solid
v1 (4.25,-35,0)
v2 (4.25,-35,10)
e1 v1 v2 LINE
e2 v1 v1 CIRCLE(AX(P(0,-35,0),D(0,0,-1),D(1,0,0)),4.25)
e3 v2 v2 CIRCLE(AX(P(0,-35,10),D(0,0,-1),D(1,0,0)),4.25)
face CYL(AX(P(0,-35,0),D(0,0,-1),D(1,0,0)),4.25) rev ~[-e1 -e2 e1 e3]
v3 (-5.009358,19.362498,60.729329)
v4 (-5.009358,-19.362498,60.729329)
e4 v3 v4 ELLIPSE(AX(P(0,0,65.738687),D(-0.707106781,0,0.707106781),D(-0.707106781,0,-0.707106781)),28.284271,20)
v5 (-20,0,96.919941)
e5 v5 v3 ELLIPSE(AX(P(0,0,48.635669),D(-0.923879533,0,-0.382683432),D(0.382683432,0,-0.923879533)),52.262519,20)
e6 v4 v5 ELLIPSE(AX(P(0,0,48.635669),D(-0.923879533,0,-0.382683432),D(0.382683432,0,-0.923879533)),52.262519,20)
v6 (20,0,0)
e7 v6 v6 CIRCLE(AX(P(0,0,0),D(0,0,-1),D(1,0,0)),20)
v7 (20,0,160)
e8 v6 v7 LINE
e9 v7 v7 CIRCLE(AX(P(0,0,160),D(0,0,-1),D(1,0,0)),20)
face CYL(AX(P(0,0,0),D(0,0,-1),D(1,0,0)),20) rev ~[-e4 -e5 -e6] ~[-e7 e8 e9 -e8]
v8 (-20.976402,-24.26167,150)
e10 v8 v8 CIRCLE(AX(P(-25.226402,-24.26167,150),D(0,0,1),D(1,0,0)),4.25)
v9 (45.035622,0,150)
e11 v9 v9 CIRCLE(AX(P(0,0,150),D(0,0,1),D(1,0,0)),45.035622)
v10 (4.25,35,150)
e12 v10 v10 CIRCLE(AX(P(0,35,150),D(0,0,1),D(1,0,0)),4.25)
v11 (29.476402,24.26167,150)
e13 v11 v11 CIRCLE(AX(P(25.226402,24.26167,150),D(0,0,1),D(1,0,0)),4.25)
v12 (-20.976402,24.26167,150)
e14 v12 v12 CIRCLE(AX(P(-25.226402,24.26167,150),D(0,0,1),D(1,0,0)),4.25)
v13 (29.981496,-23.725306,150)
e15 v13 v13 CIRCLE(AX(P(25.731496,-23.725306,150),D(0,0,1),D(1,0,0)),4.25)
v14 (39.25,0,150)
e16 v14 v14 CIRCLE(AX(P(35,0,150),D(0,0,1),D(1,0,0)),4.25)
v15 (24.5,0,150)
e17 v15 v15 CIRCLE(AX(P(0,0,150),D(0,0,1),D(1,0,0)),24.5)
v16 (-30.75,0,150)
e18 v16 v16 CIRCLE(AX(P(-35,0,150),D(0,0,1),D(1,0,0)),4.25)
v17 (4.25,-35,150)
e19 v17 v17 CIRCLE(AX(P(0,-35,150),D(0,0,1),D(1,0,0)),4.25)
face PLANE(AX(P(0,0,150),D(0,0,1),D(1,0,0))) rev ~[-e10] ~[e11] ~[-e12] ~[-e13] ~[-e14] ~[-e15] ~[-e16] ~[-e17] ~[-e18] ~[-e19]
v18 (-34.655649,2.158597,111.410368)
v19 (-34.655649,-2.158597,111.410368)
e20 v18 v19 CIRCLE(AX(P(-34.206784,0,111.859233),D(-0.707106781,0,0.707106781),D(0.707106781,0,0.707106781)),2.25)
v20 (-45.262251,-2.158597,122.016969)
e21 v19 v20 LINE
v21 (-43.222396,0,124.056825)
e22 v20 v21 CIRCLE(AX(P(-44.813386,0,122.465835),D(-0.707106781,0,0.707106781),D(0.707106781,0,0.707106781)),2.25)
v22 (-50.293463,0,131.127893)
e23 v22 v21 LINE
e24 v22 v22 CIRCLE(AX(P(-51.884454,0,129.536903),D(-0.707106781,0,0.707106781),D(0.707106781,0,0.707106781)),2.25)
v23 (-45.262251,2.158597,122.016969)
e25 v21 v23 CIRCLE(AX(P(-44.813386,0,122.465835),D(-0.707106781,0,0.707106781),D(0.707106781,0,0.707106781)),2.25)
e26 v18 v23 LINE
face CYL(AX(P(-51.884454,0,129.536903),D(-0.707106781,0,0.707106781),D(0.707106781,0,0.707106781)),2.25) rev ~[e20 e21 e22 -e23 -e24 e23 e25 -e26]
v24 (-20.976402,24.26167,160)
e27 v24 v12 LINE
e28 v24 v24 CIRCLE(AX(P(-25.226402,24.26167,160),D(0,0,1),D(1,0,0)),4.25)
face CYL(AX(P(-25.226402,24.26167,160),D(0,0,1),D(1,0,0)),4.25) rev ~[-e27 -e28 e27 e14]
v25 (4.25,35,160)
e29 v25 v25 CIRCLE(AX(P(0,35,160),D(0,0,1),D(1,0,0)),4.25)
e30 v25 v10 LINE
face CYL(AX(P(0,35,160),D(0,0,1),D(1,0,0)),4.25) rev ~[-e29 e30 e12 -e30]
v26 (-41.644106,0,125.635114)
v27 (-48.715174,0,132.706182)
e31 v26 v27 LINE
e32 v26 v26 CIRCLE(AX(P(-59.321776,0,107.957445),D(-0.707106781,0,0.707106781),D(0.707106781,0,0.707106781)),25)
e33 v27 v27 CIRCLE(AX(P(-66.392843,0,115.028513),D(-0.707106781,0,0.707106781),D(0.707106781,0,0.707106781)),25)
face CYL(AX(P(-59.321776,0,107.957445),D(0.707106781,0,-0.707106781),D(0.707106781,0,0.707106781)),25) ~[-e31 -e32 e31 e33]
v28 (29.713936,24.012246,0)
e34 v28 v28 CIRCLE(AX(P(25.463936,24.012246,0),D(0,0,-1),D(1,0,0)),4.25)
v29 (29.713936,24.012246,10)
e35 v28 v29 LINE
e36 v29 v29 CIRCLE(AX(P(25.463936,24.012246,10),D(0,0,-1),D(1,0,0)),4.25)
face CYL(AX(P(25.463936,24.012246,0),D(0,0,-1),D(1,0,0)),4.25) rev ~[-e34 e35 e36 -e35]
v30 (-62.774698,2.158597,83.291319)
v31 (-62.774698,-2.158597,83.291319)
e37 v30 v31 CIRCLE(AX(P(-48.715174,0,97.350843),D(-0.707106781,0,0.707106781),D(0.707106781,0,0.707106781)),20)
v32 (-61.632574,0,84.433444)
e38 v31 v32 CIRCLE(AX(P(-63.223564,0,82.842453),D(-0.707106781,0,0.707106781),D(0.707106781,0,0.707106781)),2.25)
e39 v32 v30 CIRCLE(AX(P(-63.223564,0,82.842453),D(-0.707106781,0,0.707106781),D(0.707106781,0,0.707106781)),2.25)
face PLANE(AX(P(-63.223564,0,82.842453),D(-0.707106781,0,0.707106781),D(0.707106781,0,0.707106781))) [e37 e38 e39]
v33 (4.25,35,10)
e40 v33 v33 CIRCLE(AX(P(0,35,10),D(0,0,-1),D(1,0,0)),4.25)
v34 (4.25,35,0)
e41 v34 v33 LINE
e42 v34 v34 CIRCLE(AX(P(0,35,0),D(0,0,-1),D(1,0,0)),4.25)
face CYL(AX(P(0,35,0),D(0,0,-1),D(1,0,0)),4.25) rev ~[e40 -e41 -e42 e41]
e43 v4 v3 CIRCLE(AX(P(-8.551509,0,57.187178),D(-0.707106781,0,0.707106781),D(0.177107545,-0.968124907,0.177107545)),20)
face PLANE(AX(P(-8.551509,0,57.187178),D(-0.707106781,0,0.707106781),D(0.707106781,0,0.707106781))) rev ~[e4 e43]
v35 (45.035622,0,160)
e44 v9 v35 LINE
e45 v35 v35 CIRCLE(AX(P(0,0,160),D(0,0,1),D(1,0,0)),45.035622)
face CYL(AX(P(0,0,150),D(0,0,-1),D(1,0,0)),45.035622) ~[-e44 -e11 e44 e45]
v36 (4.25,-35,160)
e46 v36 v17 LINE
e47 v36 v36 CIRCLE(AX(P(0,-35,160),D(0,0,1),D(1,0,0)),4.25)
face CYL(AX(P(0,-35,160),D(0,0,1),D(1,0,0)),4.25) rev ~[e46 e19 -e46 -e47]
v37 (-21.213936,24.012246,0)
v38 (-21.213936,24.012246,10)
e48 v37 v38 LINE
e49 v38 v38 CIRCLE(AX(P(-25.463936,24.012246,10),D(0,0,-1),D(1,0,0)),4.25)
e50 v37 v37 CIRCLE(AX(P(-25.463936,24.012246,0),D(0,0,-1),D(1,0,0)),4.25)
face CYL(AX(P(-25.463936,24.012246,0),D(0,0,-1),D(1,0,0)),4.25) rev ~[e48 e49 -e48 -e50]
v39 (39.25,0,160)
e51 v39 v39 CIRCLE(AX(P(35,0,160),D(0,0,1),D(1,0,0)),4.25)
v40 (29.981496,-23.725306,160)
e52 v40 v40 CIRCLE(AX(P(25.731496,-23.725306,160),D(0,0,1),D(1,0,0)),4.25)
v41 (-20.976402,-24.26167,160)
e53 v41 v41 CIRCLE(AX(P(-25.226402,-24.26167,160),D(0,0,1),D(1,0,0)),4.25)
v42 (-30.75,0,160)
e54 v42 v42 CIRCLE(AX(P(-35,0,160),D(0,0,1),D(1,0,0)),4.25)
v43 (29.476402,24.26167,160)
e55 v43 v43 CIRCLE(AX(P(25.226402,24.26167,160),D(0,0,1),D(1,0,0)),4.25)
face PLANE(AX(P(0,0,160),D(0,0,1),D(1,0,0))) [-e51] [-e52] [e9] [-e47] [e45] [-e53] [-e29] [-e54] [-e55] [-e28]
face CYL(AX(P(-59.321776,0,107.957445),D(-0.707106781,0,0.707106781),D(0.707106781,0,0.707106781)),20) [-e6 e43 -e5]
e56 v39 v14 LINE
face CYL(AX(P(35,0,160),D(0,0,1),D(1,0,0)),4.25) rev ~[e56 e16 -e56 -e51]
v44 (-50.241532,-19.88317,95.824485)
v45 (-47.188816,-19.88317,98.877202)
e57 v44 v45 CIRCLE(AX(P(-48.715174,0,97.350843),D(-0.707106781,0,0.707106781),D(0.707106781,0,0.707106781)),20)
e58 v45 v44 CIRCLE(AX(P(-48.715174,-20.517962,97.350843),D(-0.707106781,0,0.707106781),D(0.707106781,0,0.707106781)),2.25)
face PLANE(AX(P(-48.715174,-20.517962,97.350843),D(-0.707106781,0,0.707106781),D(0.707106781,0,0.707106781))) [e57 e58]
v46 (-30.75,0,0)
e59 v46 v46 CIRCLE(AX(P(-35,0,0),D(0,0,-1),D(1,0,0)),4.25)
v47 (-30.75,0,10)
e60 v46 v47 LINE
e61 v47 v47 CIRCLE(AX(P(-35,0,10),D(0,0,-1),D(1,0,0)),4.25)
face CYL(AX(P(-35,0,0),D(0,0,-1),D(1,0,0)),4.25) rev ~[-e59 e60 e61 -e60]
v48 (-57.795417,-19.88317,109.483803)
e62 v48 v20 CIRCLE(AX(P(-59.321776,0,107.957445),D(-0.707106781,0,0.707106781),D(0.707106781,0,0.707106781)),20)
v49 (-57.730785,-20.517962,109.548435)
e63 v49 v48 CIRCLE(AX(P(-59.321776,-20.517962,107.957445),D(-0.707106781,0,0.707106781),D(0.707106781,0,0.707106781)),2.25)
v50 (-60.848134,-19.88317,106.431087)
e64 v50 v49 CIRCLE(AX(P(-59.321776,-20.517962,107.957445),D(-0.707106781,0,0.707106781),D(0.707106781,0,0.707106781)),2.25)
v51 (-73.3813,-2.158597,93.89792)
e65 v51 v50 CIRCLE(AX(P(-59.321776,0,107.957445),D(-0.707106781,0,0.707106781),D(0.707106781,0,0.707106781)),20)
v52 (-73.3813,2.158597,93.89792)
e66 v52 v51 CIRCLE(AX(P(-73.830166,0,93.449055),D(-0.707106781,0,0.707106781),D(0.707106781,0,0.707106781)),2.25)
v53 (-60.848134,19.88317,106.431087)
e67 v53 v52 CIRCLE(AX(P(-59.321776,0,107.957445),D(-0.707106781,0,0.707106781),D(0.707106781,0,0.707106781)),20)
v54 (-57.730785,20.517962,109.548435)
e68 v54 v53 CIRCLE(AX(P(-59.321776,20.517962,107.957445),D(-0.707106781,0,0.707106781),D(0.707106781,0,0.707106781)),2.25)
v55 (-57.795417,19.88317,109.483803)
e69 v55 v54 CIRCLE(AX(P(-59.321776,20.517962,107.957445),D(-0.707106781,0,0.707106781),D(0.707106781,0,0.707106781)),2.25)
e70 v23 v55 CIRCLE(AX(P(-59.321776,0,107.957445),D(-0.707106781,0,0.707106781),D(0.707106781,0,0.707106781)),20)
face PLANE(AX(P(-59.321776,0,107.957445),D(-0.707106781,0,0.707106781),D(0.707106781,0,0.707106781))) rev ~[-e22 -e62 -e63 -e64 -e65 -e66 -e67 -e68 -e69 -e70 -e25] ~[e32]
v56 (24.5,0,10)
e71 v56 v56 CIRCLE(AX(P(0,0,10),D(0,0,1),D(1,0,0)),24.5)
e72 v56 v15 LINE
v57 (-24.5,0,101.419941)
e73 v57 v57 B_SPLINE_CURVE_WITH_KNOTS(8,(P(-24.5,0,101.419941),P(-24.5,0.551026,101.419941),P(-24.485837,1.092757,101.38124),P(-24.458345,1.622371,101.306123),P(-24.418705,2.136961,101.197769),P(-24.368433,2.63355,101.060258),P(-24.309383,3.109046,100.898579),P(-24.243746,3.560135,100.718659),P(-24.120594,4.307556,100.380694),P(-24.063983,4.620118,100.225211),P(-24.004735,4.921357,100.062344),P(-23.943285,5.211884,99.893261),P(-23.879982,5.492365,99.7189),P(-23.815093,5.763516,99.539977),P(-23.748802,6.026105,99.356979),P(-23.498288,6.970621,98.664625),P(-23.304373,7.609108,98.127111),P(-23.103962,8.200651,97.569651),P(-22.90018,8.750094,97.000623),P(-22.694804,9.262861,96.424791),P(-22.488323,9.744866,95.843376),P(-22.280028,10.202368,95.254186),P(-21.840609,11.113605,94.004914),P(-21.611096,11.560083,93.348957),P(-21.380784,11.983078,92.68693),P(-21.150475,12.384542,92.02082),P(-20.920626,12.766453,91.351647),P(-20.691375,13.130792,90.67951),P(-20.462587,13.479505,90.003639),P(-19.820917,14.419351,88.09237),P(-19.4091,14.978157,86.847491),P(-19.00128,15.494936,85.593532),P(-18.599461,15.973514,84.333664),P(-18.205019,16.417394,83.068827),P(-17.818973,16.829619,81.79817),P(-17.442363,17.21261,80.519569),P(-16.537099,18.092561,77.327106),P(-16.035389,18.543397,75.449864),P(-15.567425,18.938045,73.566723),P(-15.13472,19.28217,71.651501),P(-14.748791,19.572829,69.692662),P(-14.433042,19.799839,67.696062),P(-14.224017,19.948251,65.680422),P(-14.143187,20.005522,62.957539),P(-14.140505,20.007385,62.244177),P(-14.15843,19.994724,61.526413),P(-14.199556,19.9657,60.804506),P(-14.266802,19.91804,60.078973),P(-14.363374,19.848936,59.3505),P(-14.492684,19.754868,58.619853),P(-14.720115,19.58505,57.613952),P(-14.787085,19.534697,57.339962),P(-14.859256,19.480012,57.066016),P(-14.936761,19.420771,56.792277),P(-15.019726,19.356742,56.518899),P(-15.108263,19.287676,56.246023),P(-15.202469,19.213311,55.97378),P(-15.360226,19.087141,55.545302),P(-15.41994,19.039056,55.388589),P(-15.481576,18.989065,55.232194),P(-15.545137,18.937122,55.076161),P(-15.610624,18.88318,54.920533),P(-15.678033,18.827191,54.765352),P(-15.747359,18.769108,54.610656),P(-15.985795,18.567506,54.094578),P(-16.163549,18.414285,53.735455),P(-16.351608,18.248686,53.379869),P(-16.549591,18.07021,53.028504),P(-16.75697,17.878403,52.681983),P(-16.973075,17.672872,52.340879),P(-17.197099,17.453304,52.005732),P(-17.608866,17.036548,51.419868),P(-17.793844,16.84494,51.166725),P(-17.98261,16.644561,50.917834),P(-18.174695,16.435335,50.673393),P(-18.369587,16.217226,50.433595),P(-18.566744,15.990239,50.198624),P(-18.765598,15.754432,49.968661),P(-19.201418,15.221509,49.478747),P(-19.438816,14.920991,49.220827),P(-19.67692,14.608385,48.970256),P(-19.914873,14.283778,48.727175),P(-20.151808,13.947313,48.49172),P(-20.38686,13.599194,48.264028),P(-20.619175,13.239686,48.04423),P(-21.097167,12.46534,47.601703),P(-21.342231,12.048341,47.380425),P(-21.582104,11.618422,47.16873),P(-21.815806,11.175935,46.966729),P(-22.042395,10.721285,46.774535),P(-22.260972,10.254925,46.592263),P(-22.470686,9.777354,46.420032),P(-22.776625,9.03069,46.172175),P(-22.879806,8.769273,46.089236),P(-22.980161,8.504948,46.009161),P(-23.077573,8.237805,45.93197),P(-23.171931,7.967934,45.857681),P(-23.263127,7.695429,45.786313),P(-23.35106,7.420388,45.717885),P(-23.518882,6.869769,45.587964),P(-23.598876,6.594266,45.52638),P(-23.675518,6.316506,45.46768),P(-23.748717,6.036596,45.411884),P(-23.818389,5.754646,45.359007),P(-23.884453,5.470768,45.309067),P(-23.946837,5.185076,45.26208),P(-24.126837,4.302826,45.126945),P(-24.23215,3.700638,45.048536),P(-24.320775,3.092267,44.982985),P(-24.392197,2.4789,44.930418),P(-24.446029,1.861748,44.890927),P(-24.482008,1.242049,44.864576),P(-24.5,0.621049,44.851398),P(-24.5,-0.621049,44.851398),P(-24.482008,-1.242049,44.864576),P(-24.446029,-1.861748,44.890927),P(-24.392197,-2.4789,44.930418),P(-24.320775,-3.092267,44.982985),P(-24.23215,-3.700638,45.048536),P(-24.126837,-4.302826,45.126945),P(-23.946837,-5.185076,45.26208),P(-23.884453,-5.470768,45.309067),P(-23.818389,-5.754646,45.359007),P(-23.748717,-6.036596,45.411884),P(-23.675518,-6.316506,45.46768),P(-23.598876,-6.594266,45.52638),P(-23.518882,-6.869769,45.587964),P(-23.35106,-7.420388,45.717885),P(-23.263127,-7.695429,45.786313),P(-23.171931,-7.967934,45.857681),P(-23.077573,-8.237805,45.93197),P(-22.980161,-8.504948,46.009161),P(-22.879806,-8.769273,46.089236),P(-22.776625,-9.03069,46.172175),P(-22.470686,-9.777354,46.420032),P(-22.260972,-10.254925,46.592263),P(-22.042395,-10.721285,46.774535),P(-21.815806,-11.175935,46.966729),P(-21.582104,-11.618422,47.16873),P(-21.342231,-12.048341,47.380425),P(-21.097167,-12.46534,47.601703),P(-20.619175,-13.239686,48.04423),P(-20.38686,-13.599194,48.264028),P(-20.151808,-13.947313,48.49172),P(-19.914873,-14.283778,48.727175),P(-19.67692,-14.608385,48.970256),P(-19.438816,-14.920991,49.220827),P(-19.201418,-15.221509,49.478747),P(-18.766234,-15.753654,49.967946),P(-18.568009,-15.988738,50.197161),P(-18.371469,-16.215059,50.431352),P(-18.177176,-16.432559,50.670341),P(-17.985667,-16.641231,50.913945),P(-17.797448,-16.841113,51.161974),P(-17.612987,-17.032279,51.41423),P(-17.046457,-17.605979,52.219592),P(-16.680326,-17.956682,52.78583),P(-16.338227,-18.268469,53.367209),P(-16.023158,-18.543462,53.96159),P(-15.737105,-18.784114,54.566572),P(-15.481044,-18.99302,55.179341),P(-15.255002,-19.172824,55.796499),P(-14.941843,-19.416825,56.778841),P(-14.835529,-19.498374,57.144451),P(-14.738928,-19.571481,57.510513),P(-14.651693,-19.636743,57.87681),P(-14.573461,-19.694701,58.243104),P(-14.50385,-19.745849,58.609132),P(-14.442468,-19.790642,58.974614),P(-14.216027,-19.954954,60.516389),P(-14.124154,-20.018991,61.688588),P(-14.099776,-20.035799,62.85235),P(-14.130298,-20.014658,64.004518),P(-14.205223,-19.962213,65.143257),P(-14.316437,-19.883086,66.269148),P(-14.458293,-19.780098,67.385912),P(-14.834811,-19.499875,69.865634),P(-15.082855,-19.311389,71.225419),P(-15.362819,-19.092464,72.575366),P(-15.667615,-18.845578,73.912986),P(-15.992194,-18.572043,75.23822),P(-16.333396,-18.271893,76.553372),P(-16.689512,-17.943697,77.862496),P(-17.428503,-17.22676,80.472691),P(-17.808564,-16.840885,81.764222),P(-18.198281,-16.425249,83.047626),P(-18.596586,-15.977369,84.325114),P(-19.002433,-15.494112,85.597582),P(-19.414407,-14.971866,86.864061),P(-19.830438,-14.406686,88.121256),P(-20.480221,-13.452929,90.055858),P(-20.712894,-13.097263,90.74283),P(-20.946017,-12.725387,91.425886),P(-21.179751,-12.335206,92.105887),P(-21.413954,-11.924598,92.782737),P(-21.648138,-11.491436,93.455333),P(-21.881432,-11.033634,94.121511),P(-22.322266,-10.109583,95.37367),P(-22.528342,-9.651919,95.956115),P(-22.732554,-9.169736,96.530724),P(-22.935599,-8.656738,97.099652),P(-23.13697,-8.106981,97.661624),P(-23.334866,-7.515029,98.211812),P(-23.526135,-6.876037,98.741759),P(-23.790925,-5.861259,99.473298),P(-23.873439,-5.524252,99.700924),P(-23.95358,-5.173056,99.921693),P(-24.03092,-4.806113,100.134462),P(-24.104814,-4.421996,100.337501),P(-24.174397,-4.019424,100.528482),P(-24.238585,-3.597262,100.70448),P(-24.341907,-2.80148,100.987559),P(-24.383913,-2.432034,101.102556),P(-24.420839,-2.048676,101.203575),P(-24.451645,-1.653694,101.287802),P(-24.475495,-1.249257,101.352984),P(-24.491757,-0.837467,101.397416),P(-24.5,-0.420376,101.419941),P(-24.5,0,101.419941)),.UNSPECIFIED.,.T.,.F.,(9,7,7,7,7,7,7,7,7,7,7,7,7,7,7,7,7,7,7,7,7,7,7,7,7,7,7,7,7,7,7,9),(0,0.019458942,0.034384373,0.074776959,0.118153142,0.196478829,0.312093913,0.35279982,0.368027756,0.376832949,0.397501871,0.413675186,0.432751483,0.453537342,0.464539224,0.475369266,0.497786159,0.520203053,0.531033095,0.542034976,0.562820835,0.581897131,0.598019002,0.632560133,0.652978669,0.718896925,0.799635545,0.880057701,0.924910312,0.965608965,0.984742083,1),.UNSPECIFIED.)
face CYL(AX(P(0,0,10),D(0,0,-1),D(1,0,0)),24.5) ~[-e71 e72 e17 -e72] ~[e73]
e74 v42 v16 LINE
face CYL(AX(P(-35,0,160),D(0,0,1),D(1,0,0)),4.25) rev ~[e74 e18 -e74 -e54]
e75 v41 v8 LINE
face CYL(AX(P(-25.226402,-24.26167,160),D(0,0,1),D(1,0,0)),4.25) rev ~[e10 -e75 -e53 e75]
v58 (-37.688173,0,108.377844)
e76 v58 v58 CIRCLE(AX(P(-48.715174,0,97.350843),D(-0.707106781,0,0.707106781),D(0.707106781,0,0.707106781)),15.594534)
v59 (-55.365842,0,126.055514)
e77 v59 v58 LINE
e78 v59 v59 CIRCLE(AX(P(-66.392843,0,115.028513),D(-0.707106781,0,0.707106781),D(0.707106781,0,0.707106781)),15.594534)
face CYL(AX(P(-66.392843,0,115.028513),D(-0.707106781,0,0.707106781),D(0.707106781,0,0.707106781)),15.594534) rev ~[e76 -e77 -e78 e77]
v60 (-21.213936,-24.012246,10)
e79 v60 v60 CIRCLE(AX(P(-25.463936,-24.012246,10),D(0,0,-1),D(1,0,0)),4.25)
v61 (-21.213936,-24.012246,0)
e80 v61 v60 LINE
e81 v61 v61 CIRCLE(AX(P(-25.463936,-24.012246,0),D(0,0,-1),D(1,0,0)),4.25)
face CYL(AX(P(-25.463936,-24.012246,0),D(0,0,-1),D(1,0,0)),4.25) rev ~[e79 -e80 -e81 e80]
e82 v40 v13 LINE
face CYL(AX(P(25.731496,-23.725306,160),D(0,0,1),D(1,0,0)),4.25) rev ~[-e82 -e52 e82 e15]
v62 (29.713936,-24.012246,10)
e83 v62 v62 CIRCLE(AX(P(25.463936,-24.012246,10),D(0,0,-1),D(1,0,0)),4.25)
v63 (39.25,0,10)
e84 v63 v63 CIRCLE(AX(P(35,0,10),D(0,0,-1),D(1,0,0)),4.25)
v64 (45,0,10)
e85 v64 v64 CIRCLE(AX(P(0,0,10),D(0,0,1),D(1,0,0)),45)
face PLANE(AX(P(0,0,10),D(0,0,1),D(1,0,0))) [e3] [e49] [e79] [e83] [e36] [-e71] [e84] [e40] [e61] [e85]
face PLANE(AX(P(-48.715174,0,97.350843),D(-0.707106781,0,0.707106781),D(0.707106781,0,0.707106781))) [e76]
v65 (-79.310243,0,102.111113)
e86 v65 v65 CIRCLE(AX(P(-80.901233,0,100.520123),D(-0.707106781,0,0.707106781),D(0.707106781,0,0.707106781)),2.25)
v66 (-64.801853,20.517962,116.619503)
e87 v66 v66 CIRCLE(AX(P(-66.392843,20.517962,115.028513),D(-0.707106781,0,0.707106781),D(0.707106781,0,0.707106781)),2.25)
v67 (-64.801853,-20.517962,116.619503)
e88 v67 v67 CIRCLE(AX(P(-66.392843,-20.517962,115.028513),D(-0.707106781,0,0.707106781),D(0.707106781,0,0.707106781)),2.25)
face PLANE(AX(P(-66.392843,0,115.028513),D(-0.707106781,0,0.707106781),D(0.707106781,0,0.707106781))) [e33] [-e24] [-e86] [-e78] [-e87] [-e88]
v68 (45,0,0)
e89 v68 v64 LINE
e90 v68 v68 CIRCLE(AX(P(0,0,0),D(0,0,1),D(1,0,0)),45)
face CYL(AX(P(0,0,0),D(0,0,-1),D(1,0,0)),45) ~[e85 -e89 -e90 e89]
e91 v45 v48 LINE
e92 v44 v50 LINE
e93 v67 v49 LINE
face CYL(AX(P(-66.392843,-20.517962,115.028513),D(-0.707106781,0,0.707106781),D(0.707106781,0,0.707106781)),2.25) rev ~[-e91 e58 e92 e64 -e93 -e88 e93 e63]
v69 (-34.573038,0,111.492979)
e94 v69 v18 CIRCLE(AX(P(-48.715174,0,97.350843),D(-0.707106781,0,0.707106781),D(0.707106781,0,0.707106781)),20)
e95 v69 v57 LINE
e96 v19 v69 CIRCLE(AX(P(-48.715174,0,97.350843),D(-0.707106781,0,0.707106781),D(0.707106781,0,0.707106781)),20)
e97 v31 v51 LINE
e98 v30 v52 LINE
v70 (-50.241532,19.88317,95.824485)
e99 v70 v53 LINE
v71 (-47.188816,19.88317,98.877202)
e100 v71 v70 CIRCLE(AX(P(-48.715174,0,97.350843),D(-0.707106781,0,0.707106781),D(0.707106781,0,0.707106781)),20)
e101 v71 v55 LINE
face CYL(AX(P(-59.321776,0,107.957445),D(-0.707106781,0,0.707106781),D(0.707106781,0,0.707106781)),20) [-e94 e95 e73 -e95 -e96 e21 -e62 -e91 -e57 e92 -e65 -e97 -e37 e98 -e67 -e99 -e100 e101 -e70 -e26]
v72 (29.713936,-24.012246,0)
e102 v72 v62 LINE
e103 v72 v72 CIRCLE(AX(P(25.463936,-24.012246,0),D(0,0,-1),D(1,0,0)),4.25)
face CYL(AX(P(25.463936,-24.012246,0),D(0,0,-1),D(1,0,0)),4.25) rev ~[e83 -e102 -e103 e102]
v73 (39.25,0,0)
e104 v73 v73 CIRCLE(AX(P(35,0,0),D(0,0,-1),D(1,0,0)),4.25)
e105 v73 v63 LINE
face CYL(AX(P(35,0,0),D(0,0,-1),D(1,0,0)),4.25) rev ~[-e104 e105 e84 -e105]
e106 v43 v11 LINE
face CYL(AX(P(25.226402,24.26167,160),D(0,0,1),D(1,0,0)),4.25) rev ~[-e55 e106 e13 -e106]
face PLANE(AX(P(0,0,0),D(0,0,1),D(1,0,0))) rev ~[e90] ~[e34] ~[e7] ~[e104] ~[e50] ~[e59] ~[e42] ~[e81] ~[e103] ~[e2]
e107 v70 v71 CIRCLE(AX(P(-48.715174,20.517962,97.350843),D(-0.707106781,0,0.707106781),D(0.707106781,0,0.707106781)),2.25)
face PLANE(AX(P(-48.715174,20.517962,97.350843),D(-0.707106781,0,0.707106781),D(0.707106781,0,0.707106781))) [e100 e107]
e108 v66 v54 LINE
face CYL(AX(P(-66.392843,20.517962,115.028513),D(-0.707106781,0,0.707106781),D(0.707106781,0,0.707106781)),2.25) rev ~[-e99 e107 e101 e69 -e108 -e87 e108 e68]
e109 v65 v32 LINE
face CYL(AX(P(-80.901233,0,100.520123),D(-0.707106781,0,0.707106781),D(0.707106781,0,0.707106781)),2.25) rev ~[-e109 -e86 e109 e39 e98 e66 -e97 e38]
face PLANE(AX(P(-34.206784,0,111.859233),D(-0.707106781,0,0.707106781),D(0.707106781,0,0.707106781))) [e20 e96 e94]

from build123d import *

# Parameters (mm, degrees)
F0_R      = 45
F1_DEPTH  = 10
F2_R      = 24.5
F3_DEPTH  = 140
F4_R      = 45.0356217661
F5_DEPTH  = 10
F6_R      = 20
F7_DEPTH  = 160
F8_R      = 4.25
F9_DEPTH  = 25
F10_R     = 4.25
F11_DEPTH = 25
F14_R     = 20
F15_DEPTH = 71.8
F16_R     = 25
F17_DEPTH = 10
F18_R     = 14.4589197706
F19_DEPTH = 98.5
F20_R     = 15.5945344816
F21_DEPTH = 25
F22_R     = 2.25
F23_DEPTH = 25


with BuildPart() as f1:
    # F0 (on Top) → F1 (new body)
    with BuildSketch(Plane.XY):
        Circle(F0_R)
    extrude(amount=F1_DEPTH)

    # F2 (on face) → F3 (join)
    with BuildSketch(Plane.XY.offset(10)):
        Circle(F2_R)
    extrude(amount=F3_DEPTH)

    # F4 (on face) → F5 (join)
    with BuildSketch(Plane.XY.offset(150)):
        Circle(F4_R)
    extrude(amount=F5_DEPTH)

    # F6 (on face) → F7 (cut)
    with BuildSketch(Plane(origin=(0, 0, 0), x_dir=(1, 0, 0), z_dir=(0, 0, -1))):
        Circle(F6_R)
    extrude(amount=-F7_DEPTH, mode=Mode.SUBTRACT)

    # F8 (on face) → F9 (cut)
    with BuildSketch(Plane.XY.offset(160)):
        with Locations((-25.2264022948, 24.2616699191)):
            Circle(F8_R)
        with Locations((25.2264022948, 24.2616699191)):
            Circle(F8_R)
        with Locations((0, 35)):
            Circle(F8_R)
        with Locations((35, 0)):
            Circle(F8_R)
        with Locations((25.7314957808, -23.7253055803)):
            Circle(F8_R)
        with Locations((0, -35)):
            Circle(F8_R)
        with Locations((-25.2264022948, -24.2616699191)):
            Circle(F8_R)
        with Locations((-35, 0)):
            Circle(F8_R)
    extrude(amount=-F9_DEPTH, mode=Mode.SUBTRACT)

    # F10 (on face) → F11 (cut)
    with BuildSketch(Plane(origin=(0, 0, 0), x_dir=(1, 0, 0), z_dir=(0, 0, -1))):
        with Locations((-25.4639357429, 24.0122463856)):
            Circle(F10_R)
        with Locations((0, 35)):
            Circle(F10_R)
        with Locations((25.4639357429, 24.0122463856)):
            Circle(F10_R)
        with Locations((35, 0)):
            Circle(F10_R)
        with Locations((25.4639357429, -24.0122463856)):
            Circle(F10_R)
        with Locations((0, -35)):
            Circle(F10_R)
        with Locations((-25.4639357429, -24.0122463856)):
            Circle(F10_R)
        with Locations((-35, 0)):
            Circle(F10_R)
    extrude(amount=-F11_DEPTH, mode=Mode.SUBTRACT)

    # F14 (on face) → F15 (join)
    with BuildSketch(Plane(origin=(-83.6396103068, 0, 83.6396103068), x_dir=(0.7071067812, 0, 0.7071067812), z_dir=(-0.7071067812, 0, 0.7071067812))):
        with Locations((34.390611576, 0)):
            Circle(F14_R)
    extrude(amount=-F15_DEPTH)

    # F16 (on face) → F17 (join)
    with BuildSketch(Plane(origin=(-83.6396103068, 0, 83.6396103068), x_dir=(0.7071067812, 0, 0.7071067812), z_dir=(-0.7071067812, 0, 0.7071067812))):
        with Locations((34.390611576, 0)):
            Circle(F16_R)
    extrude(amount=F17_DEPTH)

    # F18 (on face) → F19 (cut)
    with BuildSketch(Plane(origin=(-90.7106781187, 0, 90.7106781187), x_dir=(0.7071067812, 0, 0.7071067812), z_dir=(-0.7071067812, 0, 0.7071067812))):
        with Locations((34.390611576, 0)):
            Circle(F18_R)
    extrude(amount=F19_DEPTH, mode=Mode.SUBTRACT)

    # F20 (on face) → F21 (cut)
    with BuildSketch(Plane(origin=(-90.7106781187, 0, 90.7106781187), x_dir=(0.7071067812, 0, 0.7071067812), z_dir=(-0.7071067812, 0, 0.7071067812))):
        with Locations((34.390611576, 0)):
            Circle(F20_R)
    extrude(amount=-F21_DEPTH, mode=Mode.SUBTRACT)

    # F22 (on face) → F23 (cut)
    with BuildSketch(Plane(origin=(-90.7106781187, 0, 90.7106781187), x_dir=(0.7071067812, 0, 0.7071067812), z_dir=(-0.7071067812, 0, 0.7071067812))):
        with Locations((54.908573322, 0)):
            Circle(F22_R)
        with Locations((34.390611576, -20.517961746)):
            Circle(F22_R)
        with Locations((13.8726498301, 0)):
            Circle(F22_R)
        with Locations((34.390611576, 20.517961746)):
            Circle(F22_R)
    extrude(amount=-F23_DEPTH, mode=Mode.SUBTRACT)


solid = f1.part
